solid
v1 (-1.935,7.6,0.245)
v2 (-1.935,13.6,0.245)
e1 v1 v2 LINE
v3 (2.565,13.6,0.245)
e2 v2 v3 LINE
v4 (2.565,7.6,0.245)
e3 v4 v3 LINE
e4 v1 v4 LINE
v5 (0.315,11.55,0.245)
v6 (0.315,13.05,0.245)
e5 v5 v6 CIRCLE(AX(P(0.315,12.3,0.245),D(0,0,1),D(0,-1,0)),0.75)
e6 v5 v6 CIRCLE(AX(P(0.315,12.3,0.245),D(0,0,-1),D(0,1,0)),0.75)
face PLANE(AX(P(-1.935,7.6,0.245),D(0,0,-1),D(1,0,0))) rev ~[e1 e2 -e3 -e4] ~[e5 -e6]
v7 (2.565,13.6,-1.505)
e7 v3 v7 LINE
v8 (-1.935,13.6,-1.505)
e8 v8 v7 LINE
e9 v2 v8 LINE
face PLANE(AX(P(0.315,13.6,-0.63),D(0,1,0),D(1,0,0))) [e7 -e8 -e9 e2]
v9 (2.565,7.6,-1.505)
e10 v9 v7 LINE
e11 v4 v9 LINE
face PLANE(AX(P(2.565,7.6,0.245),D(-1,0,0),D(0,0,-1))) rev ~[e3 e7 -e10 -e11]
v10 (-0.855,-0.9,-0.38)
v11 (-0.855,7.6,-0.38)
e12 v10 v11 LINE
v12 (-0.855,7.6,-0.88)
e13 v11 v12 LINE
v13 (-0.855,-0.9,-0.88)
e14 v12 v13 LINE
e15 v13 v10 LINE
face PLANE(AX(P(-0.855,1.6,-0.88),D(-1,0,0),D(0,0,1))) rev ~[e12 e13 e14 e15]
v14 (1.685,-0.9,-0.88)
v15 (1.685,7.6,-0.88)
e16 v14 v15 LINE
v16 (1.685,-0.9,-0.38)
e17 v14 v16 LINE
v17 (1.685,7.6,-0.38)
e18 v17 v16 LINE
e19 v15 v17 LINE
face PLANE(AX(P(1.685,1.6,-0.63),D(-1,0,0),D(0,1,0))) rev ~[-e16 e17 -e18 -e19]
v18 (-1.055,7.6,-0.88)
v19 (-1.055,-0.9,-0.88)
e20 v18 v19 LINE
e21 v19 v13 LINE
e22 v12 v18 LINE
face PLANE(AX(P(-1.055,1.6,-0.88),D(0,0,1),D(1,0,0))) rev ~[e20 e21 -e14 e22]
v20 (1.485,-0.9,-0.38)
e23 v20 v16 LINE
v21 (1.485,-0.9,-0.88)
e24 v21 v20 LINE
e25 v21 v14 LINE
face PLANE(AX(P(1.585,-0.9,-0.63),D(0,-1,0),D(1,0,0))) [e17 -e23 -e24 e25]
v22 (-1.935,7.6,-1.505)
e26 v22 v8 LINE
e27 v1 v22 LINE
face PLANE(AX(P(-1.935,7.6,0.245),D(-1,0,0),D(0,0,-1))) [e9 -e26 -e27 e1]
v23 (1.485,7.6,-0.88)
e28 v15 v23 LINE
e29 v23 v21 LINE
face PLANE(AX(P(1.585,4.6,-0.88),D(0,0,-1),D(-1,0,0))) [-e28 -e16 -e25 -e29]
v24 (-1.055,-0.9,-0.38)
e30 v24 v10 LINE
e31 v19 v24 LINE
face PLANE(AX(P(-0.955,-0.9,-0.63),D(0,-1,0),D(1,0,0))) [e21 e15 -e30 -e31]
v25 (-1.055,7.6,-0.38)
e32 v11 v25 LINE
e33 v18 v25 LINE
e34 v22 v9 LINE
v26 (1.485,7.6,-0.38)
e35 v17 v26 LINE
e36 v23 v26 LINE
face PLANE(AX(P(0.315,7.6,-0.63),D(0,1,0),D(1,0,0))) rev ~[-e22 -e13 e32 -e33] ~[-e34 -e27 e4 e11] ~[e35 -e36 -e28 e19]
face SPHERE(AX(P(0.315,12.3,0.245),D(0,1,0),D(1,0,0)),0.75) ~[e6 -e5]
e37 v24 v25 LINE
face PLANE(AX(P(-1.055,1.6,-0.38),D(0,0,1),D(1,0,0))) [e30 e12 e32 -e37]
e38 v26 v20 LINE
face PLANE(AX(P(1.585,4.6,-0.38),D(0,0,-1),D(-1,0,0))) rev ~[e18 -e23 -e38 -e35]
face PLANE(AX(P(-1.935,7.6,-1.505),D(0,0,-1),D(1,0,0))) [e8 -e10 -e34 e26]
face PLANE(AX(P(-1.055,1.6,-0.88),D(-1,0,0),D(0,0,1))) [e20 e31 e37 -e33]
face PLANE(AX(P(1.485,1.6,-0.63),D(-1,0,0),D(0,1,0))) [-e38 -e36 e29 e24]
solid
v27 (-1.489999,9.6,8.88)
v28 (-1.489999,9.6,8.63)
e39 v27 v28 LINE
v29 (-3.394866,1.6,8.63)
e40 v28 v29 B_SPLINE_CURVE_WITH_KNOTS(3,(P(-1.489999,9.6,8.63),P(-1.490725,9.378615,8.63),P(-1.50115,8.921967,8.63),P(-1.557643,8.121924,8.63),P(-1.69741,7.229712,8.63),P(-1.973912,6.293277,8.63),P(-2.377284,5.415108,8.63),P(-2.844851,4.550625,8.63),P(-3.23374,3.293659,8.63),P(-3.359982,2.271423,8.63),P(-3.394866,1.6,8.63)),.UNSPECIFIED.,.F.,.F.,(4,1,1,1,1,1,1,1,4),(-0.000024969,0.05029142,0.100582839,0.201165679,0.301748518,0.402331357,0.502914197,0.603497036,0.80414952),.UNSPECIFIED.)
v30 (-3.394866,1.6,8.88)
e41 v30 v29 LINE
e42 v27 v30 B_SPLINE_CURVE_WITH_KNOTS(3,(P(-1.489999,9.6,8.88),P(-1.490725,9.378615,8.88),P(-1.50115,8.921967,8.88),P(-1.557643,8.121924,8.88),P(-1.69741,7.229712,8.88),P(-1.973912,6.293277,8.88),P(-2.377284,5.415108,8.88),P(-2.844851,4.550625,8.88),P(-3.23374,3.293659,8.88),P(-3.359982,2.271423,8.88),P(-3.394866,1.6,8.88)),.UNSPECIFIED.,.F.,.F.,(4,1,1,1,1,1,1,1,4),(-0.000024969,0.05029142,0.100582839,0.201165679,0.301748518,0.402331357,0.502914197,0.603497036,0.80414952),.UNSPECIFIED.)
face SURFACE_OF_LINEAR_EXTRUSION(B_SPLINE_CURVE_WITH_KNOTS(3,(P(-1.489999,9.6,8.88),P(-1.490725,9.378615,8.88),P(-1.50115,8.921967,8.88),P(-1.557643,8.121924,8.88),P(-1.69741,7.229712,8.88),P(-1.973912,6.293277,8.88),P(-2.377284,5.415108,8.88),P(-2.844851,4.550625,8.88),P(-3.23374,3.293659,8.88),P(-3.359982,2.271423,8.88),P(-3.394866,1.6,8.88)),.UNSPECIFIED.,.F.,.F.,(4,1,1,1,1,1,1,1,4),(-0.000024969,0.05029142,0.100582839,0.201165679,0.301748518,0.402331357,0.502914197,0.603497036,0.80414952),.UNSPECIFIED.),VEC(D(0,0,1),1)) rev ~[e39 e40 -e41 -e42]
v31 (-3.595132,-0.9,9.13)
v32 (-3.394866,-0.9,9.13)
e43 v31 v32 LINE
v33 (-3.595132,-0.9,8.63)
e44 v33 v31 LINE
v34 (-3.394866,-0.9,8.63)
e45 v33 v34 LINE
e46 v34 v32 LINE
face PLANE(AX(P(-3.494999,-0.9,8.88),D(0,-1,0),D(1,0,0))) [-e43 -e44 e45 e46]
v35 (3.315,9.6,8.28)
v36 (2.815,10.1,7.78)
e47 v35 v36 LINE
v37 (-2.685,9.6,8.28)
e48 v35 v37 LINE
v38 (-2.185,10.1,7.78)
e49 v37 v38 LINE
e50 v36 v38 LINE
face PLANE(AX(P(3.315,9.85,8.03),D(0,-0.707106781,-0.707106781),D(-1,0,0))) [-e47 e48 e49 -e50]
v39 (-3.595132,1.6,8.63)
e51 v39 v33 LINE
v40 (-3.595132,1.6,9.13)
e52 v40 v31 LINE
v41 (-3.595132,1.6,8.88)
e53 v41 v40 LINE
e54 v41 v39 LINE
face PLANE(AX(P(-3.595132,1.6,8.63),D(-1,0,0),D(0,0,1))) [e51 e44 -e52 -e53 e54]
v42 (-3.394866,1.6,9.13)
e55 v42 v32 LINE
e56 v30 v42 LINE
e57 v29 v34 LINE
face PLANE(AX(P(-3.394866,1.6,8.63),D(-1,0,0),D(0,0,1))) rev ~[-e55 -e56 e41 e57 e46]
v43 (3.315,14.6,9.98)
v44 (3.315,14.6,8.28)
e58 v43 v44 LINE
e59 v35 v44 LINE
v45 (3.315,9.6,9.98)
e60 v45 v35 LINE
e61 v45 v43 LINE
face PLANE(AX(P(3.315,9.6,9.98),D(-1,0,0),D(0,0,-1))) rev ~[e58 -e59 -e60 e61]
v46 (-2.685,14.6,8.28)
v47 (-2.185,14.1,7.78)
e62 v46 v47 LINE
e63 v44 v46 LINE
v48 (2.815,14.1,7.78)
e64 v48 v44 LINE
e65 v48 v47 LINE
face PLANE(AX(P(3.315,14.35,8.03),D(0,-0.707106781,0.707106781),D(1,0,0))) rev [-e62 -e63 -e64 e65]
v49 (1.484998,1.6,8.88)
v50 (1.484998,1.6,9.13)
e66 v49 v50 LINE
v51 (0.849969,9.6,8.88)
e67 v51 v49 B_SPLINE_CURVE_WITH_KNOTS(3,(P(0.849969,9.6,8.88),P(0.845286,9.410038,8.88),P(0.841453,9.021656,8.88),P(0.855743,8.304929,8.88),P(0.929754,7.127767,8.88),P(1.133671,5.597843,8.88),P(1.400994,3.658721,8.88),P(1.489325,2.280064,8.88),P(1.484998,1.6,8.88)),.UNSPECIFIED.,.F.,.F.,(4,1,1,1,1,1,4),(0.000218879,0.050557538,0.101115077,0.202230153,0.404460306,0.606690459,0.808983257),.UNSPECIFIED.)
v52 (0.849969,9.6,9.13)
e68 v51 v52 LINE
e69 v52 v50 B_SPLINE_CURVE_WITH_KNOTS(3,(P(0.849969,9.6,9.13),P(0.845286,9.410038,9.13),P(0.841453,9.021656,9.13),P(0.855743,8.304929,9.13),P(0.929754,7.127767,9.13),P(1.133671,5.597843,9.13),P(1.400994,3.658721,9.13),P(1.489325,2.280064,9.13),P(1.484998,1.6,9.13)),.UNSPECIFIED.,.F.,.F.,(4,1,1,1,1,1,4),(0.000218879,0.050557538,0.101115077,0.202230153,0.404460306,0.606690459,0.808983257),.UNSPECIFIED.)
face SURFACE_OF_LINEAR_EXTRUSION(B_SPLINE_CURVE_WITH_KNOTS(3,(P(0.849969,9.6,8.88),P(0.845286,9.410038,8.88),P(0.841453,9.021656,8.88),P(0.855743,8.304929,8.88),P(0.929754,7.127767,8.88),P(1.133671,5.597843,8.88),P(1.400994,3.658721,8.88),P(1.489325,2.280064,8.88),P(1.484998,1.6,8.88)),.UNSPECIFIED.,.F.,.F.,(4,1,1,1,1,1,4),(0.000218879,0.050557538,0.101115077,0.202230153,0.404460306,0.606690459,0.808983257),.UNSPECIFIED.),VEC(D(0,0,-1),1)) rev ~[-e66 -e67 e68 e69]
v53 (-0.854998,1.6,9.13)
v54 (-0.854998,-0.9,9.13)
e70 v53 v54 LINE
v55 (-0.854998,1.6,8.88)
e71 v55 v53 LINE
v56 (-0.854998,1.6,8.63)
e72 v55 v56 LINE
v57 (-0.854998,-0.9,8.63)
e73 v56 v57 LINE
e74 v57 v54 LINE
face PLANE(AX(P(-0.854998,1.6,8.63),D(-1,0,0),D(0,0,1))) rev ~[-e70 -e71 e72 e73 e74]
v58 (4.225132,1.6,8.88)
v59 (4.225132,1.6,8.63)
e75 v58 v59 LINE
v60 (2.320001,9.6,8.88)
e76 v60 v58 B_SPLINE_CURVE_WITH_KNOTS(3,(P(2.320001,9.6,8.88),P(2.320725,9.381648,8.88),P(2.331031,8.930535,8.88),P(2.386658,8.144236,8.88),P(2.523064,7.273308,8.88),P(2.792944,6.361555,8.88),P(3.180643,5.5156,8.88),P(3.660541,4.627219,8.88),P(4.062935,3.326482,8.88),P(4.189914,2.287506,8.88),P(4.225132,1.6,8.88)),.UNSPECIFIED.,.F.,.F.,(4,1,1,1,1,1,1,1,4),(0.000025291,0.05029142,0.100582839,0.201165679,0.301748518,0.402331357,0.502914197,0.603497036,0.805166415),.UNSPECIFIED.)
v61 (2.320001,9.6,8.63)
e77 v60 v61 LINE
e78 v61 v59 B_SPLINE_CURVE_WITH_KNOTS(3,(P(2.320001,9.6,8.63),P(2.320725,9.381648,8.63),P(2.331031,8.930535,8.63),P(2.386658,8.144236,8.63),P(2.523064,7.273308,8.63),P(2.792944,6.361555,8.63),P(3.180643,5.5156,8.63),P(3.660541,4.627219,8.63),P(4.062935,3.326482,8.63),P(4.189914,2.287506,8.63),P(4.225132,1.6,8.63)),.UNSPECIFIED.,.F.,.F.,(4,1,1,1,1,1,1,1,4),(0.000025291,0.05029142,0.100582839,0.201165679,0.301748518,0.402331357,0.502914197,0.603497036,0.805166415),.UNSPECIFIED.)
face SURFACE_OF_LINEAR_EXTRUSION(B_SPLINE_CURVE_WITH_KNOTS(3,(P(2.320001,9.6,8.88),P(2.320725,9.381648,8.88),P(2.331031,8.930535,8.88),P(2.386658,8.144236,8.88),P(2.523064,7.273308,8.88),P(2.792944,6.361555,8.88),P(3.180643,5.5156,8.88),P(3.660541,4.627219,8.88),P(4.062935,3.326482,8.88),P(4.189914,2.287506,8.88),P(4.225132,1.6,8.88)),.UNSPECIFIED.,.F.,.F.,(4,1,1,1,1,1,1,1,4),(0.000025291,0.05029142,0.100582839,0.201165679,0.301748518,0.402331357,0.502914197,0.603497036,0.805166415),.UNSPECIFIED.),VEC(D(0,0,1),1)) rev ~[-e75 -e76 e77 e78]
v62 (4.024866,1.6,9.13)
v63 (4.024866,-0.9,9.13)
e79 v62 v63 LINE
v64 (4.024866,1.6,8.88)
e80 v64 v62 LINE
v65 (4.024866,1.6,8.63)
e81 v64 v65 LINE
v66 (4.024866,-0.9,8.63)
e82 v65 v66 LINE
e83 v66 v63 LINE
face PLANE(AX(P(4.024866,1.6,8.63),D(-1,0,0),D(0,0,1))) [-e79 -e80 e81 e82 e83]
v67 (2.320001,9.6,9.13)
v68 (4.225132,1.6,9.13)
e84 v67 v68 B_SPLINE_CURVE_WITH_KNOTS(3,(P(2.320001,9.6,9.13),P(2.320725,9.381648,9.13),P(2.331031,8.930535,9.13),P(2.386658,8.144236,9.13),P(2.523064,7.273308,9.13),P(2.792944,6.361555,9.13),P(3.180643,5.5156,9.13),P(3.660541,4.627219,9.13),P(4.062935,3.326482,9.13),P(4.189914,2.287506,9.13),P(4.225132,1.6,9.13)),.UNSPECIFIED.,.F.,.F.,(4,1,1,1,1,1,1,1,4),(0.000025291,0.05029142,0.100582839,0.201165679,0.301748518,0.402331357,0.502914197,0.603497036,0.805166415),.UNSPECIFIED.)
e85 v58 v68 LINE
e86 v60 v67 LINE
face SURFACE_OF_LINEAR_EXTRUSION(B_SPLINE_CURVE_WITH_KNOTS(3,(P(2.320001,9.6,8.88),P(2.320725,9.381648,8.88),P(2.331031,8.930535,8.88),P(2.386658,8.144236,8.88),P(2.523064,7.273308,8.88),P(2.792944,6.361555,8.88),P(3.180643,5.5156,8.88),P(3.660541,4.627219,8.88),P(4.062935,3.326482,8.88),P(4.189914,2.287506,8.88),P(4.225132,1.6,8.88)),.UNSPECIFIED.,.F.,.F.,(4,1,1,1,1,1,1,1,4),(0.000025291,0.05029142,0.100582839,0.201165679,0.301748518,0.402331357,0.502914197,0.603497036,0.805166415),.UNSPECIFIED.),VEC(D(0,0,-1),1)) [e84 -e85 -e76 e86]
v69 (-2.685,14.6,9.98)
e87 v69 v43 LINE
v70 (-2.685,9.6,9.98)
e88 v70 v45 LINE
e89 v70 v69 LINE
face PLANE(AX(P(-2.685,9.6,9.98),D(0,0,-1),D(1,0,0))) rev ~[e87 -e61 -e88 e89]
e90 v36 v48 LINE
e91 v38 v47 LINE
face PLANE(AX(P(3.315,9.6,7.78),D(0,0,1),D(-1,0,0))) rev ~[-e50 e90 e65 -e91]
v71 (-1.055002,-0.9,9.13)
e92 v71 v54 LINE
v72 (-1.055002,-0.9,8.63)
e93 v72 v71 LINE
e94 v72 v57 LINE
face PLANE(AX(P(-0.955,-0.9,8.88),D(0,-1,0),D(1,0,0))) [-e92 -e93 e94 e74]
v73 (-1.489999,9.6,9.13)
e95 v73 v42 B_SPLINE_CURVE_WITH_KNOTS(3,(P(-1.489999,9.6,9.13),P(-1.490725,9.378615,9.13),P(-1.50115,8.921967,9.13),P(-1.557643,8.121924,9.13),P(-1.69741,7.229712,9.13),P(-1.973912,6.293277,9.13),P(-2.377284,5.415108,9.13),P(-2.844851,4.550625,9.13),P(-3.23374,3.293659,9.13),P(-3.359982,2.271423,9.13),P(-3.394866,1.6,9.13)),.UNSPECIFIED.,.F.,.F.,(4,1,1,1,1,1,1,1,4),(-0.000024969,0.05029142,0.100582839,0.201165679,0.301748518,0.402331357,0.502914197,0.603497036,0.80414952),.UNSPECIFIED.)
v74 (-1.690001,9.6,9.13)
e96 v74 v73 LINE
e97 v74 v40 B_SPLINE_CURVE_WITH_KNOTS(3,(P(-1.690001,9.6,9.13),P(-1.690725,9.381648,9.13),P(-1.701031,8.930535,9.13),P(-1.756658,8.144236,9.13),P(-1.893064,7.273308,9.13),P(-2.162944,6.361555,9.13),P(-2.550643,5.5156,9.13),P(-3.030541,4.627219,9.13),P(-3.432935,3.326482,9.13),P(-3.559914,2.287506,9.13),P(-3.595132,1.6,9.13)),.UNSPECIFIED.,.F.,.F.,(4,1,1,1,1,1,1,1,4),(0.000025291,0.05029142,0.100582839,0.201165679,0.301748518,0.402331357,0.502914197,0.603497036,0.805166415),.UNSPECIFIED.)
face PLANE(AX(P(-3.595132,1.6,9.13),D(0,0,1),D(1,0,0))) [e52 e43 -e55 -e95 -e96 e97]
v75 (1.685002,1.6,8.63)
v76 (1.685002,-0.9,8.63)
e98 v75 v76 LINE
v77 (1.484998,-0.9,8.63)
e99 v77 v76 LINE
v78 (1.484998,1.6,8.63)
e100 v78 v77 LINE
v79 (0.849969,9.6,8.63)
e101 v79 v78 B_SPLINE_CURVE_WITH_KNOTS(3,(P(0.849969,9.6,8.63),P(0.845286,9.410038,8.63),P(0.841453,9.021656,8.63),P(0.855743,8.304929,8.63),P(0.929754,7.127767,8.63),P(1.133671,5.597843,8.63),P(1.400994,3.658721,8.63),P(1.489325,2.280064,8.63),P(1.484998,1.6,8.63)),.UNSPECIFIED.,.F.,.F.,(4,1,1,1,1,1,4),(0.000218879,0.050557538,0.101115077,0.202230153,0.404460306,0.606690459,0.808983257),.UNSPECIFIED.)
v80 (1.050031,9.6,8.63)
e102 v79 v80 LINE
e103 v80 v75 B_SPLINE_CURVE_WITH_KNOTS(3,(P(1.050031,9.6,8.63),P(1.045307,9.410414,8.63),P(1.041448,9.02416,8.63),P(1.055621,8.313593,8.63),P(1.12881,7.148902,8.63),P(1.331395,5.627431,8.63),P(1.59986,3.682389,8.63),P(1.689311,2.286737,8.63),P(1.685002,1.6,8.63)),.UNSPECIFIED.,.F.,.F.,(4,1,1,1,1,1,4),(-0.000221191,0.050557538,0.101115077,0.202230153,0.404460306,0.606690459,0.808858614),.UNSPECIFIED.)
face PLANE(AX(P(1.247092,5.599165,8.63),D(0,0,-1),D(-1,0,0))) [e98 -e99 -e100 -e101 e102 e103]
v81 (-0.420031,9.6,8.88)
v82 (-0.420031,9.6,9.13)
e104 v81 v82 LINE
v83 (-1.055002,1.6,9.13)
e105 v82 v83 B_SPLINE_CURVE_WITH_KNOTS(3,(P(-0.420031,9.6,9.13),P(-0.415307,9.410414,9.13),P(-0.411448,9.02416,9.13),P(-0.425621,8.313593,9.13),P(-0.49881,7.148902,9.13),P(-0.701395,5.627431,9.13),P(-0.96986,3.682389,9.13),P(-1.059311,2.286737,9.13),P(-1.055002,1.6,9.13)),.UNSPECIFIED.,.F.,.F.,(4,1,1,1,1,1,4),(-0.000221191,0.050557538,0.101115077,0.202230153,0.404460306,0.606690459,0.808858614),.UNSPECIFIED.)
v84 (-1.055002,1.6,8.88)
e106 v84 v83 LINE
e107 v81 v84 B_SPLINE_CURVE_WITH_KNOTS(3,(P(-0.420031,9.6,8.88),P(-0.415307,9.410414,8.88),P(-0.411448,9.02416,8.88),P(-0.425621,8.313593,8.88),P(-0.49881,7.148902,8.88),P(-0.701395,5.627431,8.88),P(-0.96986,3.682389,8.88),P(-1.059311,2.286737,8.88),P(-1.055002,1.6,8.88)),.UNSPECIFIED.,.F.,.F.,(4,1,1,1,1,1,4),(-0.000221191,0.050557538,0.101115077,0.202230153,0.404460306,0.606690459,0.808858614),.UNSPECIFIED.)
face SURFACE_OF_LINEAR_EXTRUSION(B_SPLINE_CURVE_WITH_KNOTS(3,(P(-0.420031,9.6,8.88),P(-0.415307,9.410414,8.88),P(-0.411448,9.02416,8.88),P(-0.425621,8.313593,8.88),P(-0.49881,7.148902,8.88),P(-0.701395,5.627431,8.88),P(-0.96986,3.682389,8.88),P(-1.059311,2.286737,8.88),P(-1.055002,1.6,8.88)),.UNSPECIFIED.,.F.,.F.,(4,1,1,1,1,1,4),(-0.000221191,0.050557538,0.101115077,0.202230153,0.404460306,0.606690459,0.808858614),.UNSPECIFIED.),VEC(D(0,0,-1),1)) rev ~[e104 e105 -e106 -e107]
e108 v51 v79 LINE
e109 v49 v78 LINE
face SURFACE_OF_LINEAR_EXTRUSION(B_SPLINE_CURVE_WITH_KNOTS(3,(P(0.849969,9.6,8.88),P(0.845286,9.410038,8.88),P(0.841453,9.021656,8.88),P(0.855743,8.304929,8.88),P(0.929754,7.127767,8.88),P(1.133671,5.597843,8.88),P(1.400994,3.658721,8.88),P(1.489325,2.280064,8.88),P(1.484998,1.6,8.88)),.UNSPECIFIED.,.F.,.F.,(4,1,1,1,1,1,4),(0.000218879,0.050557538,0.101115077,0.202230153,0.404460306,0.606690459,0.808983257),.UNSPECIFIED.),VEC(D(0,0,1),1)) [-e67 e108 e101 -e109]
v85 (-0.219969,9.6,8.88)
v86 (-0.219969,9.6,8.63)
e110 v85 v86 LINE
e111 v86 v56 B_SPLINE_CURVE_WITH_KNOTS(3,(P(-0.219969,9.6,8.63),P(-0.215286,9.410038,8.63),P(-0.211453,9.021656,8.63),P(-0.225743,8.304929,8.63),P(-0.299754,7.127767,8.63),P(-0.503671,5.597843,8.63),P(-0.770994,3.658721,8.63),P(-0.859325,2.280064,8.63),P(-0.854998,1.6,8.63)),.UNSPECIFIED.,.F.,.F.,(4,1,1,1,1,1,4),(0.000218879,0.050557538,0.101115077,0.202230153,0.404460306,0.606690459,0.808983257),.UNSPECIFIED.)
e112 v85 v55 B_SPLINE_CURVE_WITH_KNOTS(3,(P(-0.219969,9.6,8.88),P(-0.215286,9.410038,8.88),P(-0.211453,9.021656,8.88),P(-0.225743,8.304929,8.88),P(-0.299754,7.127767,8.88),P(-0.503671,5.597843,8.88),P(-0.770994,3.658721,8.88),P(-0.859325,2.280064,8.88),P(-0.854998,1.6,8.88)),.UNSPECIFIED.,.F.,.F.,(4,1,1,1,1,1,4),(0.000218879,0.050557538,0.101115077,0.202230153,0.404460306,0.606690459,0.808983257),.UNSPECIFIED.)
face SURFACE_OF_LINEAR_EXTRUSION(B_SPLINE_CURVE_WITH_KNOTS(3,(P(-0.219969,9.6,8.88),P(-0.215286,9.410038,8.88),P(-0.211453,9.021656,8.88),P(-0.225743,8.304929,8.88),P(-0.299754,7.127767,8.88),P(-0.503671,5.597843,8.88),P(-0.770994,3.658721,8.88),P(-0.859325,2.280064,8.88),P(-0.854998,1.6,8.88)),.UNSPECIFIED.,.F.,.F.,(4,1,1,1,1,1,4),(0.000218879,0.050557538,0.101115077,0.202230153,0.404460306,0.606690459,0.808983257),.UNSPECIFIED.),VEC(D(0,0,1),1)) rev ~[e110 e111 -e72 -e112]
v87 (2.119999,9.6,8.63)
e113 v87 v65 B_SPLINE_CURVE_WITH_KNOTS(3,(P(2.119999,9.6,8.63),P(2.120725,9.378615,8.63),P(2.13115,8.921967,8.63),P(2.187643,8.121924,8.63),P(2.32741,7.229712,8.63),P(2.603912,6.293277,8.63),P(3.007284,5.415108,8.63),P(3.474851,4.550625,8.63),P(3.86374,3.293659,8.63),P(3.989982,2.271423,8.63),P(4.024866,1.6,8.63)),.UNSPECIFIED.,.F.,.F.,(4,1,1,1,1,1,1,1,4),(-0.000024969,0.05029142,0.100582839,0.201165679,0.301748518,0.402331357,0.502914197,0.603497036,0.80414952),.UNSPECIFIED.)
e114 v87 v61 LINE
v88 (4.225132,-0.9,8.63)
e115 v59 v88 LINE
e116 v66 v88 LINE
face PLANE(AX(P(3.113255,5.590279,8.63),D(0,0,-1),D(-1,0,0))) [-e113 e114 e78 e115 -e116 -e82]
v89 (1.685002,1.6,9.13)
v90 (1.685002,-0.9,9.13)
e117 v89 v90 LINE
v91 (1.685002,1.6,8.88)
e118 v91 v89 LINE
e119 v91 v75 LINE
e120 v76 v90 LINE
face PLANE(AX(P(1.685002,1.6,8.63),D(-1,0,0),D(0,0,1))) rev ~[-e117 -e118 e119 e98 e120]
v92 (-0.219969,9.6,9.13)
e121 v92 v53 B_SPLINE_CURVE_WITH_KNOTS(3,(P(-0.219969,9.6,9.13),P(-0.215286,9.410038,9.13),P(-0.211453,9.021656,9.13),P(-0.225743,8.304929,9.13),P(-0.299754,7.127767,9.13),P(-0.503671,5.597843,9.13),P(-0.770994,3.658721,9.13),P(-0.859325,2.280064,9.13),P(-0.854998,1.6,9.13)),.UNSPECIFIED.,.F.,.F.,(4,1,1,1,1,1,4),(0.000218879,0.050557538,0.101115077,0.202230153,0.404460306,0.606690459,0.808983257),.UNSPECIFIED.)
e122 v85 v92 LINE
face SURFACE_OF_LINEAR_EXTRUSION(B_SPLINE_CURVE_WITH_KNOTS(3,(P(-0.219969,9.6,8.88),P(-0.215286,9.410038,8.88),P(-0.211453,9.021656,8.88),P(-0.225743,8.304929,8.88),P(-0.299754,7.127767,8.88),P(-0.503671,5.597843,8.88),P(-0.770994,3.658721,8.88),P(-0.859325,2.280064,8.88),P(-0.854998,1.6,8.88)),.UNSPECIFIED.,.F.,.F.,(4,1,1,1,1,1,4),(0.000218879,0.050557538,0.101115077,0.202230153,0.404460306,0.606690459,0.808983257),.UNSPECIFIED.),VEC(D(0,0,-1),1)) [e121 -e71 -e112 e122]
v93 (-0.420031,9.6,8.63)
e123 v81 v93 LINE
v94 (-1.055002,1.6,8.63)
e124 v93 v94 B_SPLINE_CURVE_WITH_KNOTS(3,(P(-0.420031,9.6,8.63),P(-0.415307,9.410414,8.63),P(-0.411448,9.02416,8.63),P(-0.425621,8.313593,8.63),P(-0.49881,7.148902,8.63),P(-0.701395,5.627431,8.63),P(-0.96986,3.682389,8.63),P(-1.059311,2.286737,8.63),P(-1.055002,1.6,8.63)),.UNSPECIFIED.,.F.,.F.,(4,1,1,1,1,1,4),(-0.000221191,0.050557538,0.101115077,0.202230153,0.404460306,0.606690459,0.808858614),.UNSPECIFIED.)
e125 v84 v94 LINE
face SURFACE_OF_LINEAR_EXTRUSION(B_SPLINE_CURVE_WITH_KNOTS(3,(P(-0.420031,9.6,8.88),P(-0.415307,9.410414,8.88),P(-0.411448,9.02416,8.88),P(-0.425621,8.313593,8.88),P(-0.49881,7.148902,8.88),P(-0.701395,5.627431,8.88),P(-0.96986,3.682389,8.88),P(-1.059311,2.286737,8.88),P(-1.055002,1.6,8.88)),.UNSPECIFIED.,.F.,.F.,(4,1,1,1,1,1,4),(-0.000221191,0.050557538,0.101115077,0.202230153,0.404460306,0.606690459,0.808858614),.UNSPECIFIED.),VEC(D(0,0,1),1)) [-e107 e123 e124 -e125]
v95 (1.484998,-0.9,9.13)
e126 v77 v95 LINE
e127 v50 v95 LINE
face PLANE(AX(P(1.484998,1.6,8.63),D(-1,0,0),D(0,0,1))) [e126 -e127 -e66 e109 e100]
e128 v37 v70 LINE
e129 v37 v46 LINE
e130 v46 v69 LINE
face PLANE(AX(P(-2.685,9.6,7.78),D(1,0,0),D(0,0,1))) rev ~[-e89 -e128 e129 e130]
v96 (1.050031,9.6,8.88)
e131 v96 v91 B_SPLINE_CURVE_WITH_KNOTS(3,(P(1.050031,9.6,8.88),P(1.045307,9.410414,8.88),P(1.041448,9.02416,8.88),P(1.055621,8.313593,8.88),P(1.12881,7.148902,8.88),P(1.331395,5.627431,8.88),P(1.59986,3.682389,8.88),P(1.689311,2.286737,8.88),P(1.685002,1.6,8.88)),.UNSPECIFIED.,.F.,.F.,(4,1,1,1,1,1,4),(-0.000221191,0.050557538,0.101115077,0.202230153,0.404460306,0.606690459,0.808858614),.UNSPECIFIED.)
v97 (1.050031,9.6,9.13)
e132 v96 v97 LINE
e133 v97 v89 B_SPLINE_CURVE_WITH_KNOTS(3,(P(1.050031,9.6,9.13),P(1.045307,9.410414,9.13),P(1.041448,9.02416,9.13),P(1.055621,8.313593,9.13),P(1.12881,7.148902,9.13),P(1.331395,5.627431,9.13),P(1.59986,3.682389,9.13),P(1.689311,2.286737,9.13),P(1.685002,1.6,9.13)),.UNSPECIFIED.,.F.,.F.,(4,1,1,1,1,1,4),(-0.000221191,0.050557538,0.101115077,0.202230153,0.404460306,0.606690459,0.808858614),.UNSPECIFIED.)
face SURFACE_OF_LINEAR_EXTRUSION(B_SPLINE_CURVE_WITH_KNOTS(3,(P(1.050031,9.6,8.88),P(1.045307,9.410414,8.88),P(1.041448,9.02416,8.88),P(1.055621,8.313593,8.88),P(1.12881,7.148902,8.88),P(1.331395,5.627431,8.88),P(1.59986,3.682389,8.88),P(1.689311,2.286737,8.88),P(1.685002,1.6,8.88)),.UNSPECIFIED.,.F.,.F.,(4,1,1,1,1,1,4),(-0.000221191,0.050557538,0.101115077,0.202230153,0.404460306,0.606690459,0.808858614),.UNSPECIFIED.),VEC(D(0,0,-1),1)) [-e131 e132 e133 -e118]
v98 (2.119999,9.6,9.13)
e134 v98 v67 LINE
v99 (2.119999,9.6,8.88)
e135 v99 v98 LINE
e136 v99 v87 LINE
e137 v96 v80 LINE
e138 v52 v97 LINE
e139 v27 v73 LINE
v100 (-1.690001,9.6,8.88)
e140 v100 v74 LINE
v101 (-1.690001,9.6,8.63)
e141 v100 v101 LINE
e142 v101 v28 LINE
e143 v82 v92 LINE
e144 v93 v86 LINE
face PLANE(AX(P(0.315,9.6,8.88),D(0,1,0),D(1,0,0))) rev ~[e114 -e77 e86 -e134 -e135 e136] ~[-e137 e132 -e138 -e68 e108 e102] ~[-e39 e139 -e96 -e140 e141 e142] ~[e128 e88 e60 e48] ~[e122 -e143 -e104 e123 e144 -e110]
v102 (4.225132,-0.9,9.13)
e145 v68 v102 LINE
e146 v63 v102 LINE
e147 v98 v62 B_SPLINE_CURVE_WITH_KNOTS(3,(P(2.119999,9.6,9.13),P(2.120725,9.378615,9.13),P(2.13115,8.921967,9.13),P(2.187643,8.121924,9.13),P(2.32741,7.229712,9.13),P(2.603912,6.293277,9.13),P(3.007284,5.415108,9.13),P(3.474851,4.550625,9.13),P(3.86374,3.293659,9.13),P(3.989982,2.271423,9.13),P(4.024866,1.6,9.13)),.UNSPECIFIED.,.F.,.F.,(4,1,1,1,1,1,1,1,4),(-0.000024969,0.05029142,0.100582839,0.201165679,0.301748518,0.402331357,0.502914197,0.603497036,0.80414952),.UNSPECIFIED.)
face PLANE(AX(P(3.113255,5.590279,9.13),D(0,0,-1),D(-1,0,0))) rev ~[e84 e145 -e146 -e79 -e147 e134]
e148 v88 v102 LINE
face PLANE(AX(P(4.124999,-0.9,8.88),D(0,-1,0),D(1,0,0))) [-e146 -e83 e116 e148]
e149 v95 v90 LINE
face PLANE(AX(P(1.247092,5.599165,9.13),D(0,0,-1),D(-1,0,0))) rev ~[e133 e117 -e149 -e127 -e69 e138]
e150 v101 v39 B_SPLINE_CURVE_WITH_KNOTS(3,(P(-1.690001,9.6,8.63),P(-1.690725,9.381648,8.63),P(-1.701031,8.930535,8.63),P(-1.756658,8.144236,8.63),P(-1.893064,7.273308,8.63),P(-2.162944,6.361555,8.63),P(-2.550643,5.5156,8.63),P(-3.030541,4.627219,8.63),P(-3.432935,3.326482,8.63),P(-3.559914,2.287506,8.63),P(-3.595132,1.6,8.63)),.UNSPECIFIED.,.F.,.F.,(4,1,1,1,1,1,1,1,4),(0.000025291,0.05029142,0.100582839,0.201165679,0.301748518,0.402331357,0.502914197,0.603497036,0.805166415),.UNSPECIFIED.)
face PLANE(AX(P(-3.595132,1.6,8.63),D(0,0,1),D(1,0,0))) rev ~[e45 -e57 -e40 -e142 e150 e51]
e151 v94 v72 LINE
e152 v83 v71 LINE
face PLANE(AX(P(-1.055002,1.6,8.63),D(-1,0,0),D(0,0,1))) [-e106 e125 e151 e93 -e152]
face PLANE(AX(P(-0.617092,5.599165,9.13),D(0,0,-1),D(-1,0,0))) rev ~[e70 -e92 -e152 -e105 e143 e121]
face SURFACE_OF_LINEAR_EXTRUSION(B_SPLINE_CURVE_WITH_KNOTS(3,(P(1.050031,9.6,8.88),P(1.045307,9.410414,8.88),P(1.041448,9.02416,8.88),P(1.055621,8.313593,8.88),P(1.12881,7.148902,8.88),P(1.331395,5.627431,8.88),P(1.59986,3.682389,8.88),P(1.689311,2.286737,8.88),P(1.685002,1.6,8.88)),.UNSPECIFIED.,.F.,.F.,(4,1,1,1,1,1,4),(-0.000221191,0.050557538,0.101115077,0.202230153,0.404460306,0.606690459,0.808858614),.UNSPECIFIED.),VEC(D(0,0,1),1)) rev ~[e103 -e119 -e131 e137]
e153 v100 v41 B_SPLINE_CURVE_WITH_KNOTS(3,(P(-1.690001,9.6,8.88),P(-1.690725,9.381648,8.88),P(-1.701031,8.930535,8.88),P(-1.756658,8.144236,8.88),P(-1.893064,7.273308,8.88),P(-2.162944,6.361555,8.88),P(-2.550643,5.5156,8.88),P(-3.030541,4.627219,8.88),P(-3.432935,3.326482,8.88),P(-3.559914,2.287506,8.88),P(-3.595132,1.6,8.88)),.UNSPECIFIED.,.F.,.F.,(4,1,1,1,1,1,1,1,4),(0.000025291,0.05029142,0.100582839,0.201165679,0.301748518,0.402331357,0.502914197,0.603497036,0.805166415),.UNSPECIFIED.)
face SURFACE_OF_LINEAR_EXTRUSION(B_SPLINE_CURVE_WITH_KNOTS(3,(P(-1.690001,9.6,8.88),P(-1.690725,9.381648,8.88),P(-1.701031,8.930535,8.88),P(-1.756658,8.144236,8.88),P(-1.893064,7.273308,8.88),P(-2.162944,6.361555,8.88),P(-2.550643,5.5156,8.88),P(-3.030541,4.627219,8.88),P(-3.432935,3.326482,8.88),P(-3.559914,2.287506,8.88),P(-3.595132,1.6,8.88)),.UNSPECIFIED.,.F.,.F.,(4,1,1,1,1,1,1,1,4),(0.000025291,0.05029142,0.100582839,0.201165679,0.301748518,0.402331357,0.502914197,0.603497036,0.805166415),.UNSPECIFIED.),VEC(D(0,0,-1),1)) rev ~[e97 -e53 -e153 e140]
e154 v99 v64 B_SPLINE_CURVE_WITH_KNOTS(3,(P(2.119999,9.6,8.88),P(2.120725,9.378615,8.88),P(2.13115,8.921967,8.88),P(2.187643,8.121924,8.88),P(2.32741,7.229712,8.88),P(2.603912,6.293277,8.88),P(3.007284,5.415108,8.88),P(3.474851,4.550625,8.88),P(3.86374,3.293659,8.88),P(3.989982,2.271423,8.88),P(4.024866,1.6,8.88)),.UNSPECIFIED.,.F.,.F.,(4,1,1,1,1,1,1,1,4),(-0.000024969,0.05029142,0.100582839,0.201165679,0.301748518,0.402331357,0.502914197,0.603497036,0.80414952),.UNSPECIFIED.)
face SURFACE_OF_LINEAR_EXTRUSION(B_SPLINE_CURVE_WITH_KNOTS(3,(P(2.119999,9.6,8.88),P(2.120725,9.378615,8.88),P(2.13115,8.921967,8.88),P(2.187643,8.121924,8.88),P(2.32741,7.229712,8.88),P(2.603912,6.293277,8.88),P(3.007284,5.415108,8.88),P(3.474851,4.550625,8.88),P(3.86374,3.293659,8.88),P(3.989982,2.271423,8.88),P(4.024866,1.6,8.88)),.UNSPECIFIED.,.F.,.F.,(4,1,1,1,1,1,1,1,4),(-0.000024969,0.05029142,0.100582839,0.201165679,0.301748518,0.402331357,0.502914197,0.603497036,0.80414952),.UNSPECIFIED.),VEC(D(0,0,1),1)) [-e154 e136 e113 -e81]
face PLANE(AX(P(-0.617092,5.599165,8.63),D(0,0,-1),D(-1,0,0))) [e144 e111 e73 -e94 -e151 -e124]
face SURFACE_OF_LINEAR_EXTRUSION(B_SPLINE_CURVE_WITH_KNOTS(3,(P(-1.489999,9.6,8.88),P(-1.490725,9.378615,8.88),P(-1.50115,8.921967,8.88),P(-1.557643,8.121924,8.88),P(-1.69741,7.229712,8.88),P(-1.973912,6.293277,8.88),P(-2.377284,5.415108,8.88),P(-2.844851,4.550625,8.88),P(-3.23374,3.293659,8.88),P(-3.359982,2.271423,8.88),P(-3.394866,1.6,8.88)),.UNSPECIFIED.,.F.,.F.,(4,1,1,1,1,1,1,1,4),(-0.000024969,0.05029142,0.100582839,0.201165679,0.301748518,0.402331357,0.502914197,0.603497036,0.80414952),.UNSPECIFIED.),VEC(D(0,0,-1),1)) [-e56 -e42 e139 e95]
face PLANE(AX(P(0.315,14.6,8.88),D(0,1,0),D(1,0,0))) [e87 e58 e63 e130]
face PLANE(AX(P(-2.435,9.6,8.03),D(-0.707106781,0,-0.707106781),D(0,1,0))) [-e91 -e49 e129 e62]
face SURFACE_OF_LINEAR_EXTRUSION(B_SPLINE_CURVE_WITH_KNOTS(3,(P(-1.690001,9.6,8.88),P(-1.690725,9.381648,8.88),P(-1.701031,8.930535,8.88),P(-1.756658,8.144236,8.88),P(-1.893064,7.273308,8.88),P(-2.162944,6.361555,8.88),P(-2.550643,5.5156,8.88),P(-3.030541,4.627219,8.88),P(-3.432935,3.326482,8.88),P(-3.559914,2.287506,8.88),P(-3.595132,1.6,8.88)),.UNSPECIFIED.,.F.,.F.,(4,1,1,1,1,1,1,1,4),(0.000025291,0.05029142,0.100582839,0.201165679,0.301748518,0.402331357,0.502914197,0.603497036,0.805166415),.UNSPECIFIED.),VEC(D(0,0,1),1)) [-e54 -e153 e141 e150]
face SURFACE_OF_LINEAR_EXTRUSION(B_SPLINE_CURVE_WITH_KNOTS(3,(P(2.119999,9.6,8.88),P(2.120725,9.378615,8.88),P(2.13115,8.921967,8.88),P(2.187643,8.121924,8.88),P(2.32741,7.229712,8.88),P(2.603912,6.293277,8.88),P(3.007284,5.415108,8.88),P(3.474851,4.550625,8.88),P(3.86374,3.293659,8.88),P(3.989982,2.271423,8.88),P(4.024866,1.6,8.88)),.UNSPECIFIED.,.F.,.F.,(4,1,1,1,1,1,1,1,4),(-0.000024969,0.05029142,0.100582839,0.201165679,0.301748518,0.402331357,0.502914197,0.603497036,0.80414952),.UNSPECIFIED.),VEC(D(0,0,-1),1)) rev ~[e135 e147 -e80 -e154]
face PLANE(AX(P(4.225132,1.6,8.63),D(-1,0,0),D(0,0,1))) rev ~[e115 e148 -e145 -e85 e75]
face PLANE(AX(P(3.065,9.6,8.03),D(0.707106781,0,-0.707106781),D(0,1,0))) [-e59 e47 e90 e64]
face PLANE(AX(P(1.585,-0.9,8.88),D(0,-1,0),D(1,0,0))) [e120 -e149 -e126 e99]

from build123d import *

# Parameters (mm, degrees)
SKETCH1_W                = 3.18
SKETCH1_H                = 8.32
SKETCH1_W_2              = 8.26
SKETCH1_H_2              = 3.18
SKETCH1_H_3              = 8.26
SKETCH1_H_4              = 5.72
SKETCH1_W_3              = 3.94
SKETCH1_H_5              = 12.7
BOSS_EXTRUDE2_DEPTH      = 1.6
BOSS_EXTRUDE3_START      = 8
BOSS_EXTRUDE3_DEPTH      = 5
BOSS_EXTRUDE4_START      = -1.1
BOSS_EXTRUDE4_DEPTH      = 0.25
BOSS_EXTRUDE4_DEPTH_BACK = 0.25
CHAMFER1_SIZE            = 0.5
BOSS_EXTRUDE5_START      = 6
SKETCH5_W                = 4.5
SKETCH5_H                = 1.75
BOSS_EXTRUDE5_DEPTH      = 6
BOSS_EXTRUDE6_START      = -0.875
SKETCH7_W                = 0.2
SKETCH7_H                = 6
BOSS_EXTRUDE6_DEPTH      = 0.25
BOSS_EXTRUDE6_DEPTH_BACK = 0.25
SKETCH8_R                = 0.635
CUT_EXTRUDE1_DEPTH       = 2.6
SKETCH9_W                = 71.682790583
SKETCH9_H                = 73.419144216
CUT_EXTRUDE2_DEPTH       = 1.6
SKETCH10_W               = 0.200265949
SKETCH10_H               = 0.5
SKETCH10_W_2             = 0.200003992
SKETCH10_W_3             = 0.2
BOSS_EXTRUDE7_DEPTH      = 2.5


with BuildPart() as part:
    # Sketch1 → Boss-Extrude2 (new body)
    with BuildSketch(Plane(origin=(0, 0, 0), x_dir=(1, 0, 0), z_dir=(0, 1, 0))):
        Polygon((-23.815, 0), (-23.815, 29.84), (24.115, 29.84), (24.115, 0), (24.115, -29.84), (-23.815, -29.84), align=None)
        with Locations((-20.955, 15.53)):
            Rectangle(SKETCH1_W, SKETCH1_H, mode=Mode.SUBTRACT)
        with Locations((-4.445, 7.93)):
            Rectangle(SKETCH1_W_2, SKETCH1_H_2, mode=Mode.SUBTRACT)
        with Locations((-20.955, -0.94)):
            Rectangle(SKETCH1_W, SKETCH1_H_3, mode=Mode.SUBTRACT)
        with Locations((21.005, 25.71)):
            Rectangle(SKETCH1_W, SKETCH1_H_4, mode=Mode.SUBTRACT)
        with Locations((20.305, -15.55)):
            Rectangle(SKETCH1_W, SKETCH1_H_3, mode=Mode.SUBTRACT)
        with Locations((14.845, -9.58)):
            Rectangle(SKETCH1_W_3, SKETCH1_H_5, mode=Mode.SUBTRACT)
    extrude(amount=BOSS_EXTRUDE2_DEPTH)



with BuildPart() as body_2:
    # Sketch3 → Boss-Extrude3 (new body)
    with BuildSketch(Plane(origin=(0, 1.6, 0), x_dir=(1, 0, 0), z_dir=(0, 1, 0)).offset(BOSS_EXTRUDE3_START)):
        Polygon((0.315, -7.78), (-2.685, -7.78), (-2.685, -9.98), (0.315, -9.98), (3.315, -9.98), (3.315, -7.78), align=None)
    extrude(amount=BOSS_EXTRUDE3_DEPTH)


with BuildPart() as part_1:
    add(part.part)

    add(body_2.part)  # Boss-Extrude4 merges body 2
    # Sketch4 → Boss-Extrude4 (add, two sides)
    with BuildSketch(Plane.XY.offset(9.98).offset(BOSS_EXTRUDE4_START)) as boss_extrude4_sk:
        with BuildLine():
            Line((-1.690000547, 9.6), (-1.489999461, 9.6))
            add(Edge.make_bspline(
                [(-1.489999461, 9.6), (-1.490724676, 9.378615191), (-1.501150351, 8.921966702), (-1.557643402, 8.121923712), (-1.697410233, 7.229711912), (-1.97391224, 6.293277185), (-2.377283852, 5.415108244), (-2.844851076, 4.550624944), (-3.233739916, 3.293659471), (-3.359982321, 2.27142251), (-3.394866088, 1.6)],
                knots=[-2.4969e-05, -2.4969e-05, -2.4969e-05, -2.4969e-05, 0.05029142, 0.100582839, 0.201165679, 0.301748518, 0.402331357, 0.502914197, 0.603497036, 0.80414952, 0.80414952, 0.80414952, 0.80414952], degree=3))
            Line((-3.394866088, 1.6), (-3.595132037, 1.6))
            add(Edge.make_bspline(
                [(-1.690000547, 9.6), (-1.69072463, 9.38164845), (-1.701031258, 8.930534953), (-1.756658157, 8.144235526), (-1.893064323, 7.273307969), (-2.162944464, 6.361554733), (-2.550643297, 5.515600408), (-3.030540836, 4.627219412), (-3.432934775, 3.326482293), (-3.559913653, 2.287505886), (-3.595132037, 1.6)],
                knots=[2.5291e-05, 2.5291e-05, 2.5291e-05, 2.5291e-05, 0.05029142, 0.100582839, 0.201165679, 0.301748518, 0.402331357, 0.502914197, 0.603497036, 0.805166415, 0.805166415, 0.805166415, 0.805166415], degree=3))
        make_face()
        with BuildLine():
            Line((-0.420030875, 9.6), (-0.219969453, 9.6))
            add(Edge.make_bspline(
                [(-0.219969453, 9.6), (-0.215286197, 9.410037733), (-0.211453119, 9.021656245), (-0.225743152, 8.30492942), (-0.299753538, 7.127767003), (-0.503670741, 5.597842901), (-0.770994323, 3.658720552), (-0.859324782, 2.280063776), (-0.85499799, 1.6)],
                knots=[0.000218879, 0.000218879, 0.000218879, 0.000218879, 0.050557538, 0.101115077, 0.202230153, 0.404460306, 0.606690459, 0.808983257, 0.808983257, 0.808983257, 0.808983257], degree=3))
            Line((-0.85499799, 1.6), (-1.055001982, 1.6))
            add(Edge.make_bspline(
                [(-0.420030875, 9.6), (-0.415306869, 9.410414309), (-0.411448243, 9.024159618), (-0.425621065, 8.313593273), (-0.498810074, 7.148902433), (-0.701395153, 5.627430708), (-0.96986031, 3.682389129), (-1.05931075, 2.286737109), (-1.055001982, 1.6)],
                knots=[-0.000221191, -0.000221191, -0.000221191, -0.000221191, 0.050557538, 0.101115077, 0.202230153, 0.404460306, 0.606690459, 0.808858614, 0.808858614, 0.808858614, 0.808858614], degree=3))
        make_face()
        with BuildLine():
            Line((0.849969454, 9.6), (1.050030874, 9.6))
            add(Edge.make_bspline(
                [(1.050030874, 9.6), (1.045306869, 9.410414309), (1.041448243, 9.024159618), (1.055621064, 8.313593273), (1.128810074, 7.148902433), (1.331395152, 5.627430708), (1.599860309, 3.682389129), (1.689310749, 2.286737109), (1.685001982, 1.6)],
                knots=[-0.000221191, -0.000221191, -0.000221191, -0.000221191, 0.050557538, 0.101115077, 0.202230153, 0.404460306, 0.606690459, 0.808858614, 0.808858614, 0.808858614, 0.808858614], degree=3))
            Line((1.685001982, 1.6), (1.48499799, 1.6))
            add(Edge.make_bspline(
                [(0.849969454, 9.6), (0.845286198, 9.410037733), (0.841453119, 9.021656245), (0.855743152, 8.30492942), (0.929753538, 7.127767003), (1.133670741, 5.597842901), (1.400994323, 3.658720552), (1.489324782, 2.280063776), (1.48499799, 1.6)],
                knots=[0.000218879, 0.000218879, 0.000218879, 0.000218879, 0.050557538, 0.101115077, 0.202230153, 0.404460306, 0.606690459, 0.808983257, 0.808983257, 0.808983257, 0.808983257], degree=3))
        make_face()
        with BuildLine():
            Line((2.11999946, 9.6), (2.320000547, 9.6))
            add(Edge.make_bspline(
                [(2.320000547, 9.6), (2.320724629, 9.38164845), (2.331031257, 8.930534953), (2.386658156, 8.144235526), (2.523064322, 7.273307969), (2.792944463, 6.361554733), (3.180643297, 5.515600408), (3.660540836, 4.627219412), (4.062934774, 3.326482293), (4.189913652, 2.287505886), (4.225132036, 1.6)],
                knots=[2.5291e-05, 2.5291e-05, 2.5291e-05, 2.5291e-05, 0.05029142, 0.100582839, 0.201165679, 0.301748518, 0.402331357, 0.502914197, 0.603497036, 0.805166415, 0.805166415, 0.805166415, 0.805166415], degree=3))
            Line((4.225132036, 1.6), (4.024866087, 1.6))
            add(Edge.make_bspline(
                [(2.11999946, 9.6), (2.120724676, 9.378615191), (2.13115035, 8.921966702), (2.187643402, 8.121923712), (2.327410232, 7.229711912), (2.60391224, 6.293277185), (3.007283851, 5.415108244), (3.474851076, 4.550624944), (3.863739916, 3.293659471), (3.98998232, 2.27142251), (4.024866087, 1.6)],
                knots=[-2.4969e-05, -2.4969e-05, -2.4969e-05, -2.4969e-05, 0.05029142, 0.100582839, 0.201165679, 0.301748518, 0.402331357, 0.502914197, 0.603497036, 0.80414952, 0.80414952, 0.80414952, 0.80414952], degree=3))
        make_face()
    extrude(amount=BOSS_EXTRUDE4_DEPTH)
    extrude(boss_extrude4_sk.sketch, amount=-BOSS_EXTRUDE4_DEPTH_BACK)

    # Chamfer1
    chamfer1_edges = [part_1.edges().sort_by_distance(p)[0] for p in [
        (0.315, 9.6, 7.78),
        (3.315, 12.1, 7.78),
        (-2.685, 12.1, 7.78),
        (0.315, 14.6, 7.78),
    ]]
    chamfer(chamfer1_edges, length=CHAMFER1_SIZE)



with BuildPart() as body_2_2:
    # Sketch5 → Boss-Extrude5 (new body)
    with BuildSketch(Plane(origin=(0, 1.6, 0), x_dir=(1, 0, 0), z_dir=(0, 1, 0)).offset(BOSS_EXTRUDE5_START)):
        with Locations((0.315, 0.63)):
            Rectangle(SKETCH5_W, SKETCH5_H)
    extrude(amount=BOSS_EXTRUDE5_DEPTH)

    # Sketch6 → Revolve1 (revolve)
    with BuildSketch(Plane.XY.offset(0.245)):
        with BuildLine():
            Line((0.315, 13.05), (0.315, 12.3))
            Line((0.315, 12.3), (0.315, 11.55))
            ThreePointArc((0.315, 11.55), (1.065, 12.3), (0.315, 13.05))
        make_face()
    revolve(axis=Axis((0.315, 13.05, 0.245), (0, -1, 0)))


with BuildPart() as part_2:
    add(part_1.part)

    add(body_2_2.part)  # Boss-Extrude6 merges body 2 2
    # Sketch7 → Boss-Extrude6 (add, two sides)
    with BuildSketch(Plane(origin=(0, 0, -1.505), x_dir=(-1, 0, 0), z_dir=(0, 0, -1)).offset(BOSS_EXTRUDE6_START)) as boss_extrude6_sk:
        with Locations((-1.585, 4.6)):
            Rectangle(SKETCH7_W, SKETCH7_H)
        with Locations((0.955, 4.6)):
            Rectangle(SKETCH7_W, SKETCH7_H)
    extrude(amount=BOSS_EXTRUDE6_DEPTH)
    extrude(boss_extrude6_sk.sketch, amount=-BOSS_EXTRUDE6_DEPTH_BACK)

    # Sketch8 → Cut-Extrude1 (cut, through all)
    with BuildSketch(Plane(origin=(0, 1.6, 0), x_dir=(1, 0, 0), z_dir=(0, 1, 0))):
        with Locations((-0.955, 4.44)):
            Circle(SKETCH8_R)
        with Locations((1.585, 4.44)):
            Circle(SKETCH8_R)
        with Locations((4.125, 4.44)):
            Circle(SKETCH8_R)
        with Locations((-3.495, 4.44)):
            Circle(SKETCH8_R)
        with Locations((-7.815, 4.016666667)):
            Circle(SKETCH8_R)
        with Locations((-14.365, 4.016666667)):
            Circle(SKETCH8_R)
        with Locations((-14.365, -0.503333333)):
            Circle(SKETCH8_R)
        with Locations((-7.815, -0.503333333)):
            Circle(SKETCH8_R)
        with Locations((14.995, -0.503333333)):
            Circle(SKETCH8_R)
        with Locations((8.445, -0.503333333)):
            Circle(SKETCH8_R)
        with Locations((14.995, 4.016666667)):
            Circle(SKETCH8_R)
        with Locations((8.445, 4.016666667)):
            Circle(SKETCH8_R)
    extrude(amount=-CUT_EXTRUDE1_DEPTH, mode=Mode.SUBTRACT)

    # Sketch9 → Cut-Extrude2 (cut)
    with BuildSketch(Plane.XZ):
        with Locations((0.802366539, 0.541931826)):
            Rectangle(SKETCH9_W, SKETCH9_H)
    extrude(amount=-CUT_EXTRUDE2_DEPTH, mode=Mode.SUBTRACT)

    # Sketch10 → Boss-Extrude7 (add)
    with BuildSketch(Plane.XZ.offset(-1.6)):
        with Locations((-3.494999063, 8.88)):
            Rectangle(SKETCH10_W, SKETCH10_H)
        with Locations((-0.954999986, 8.88)):
            Rectangle(SKETCH10_W_2, SKETCH10_H)
        with Locations((1.584999986, 8.88)):
            Rectangle(SKETCH10_W_2, SKETCH10_H)
        with Locations((4.124999062, 8.88)):
            Rectangle(SKETCH10_W, SKETCH10_H)
        with Locations((-0.955, -0.63)):
            Rectangle(SKETCH10_W_3, SKETCH10_H)
        with Locations((1.585, -0.63)):
            Rectangle(SKETCH10_W_3, SKETCH10_H)
    extrude(amount=BOSS_EXTRUDE7_DEPTH)


solid = part_2.part
